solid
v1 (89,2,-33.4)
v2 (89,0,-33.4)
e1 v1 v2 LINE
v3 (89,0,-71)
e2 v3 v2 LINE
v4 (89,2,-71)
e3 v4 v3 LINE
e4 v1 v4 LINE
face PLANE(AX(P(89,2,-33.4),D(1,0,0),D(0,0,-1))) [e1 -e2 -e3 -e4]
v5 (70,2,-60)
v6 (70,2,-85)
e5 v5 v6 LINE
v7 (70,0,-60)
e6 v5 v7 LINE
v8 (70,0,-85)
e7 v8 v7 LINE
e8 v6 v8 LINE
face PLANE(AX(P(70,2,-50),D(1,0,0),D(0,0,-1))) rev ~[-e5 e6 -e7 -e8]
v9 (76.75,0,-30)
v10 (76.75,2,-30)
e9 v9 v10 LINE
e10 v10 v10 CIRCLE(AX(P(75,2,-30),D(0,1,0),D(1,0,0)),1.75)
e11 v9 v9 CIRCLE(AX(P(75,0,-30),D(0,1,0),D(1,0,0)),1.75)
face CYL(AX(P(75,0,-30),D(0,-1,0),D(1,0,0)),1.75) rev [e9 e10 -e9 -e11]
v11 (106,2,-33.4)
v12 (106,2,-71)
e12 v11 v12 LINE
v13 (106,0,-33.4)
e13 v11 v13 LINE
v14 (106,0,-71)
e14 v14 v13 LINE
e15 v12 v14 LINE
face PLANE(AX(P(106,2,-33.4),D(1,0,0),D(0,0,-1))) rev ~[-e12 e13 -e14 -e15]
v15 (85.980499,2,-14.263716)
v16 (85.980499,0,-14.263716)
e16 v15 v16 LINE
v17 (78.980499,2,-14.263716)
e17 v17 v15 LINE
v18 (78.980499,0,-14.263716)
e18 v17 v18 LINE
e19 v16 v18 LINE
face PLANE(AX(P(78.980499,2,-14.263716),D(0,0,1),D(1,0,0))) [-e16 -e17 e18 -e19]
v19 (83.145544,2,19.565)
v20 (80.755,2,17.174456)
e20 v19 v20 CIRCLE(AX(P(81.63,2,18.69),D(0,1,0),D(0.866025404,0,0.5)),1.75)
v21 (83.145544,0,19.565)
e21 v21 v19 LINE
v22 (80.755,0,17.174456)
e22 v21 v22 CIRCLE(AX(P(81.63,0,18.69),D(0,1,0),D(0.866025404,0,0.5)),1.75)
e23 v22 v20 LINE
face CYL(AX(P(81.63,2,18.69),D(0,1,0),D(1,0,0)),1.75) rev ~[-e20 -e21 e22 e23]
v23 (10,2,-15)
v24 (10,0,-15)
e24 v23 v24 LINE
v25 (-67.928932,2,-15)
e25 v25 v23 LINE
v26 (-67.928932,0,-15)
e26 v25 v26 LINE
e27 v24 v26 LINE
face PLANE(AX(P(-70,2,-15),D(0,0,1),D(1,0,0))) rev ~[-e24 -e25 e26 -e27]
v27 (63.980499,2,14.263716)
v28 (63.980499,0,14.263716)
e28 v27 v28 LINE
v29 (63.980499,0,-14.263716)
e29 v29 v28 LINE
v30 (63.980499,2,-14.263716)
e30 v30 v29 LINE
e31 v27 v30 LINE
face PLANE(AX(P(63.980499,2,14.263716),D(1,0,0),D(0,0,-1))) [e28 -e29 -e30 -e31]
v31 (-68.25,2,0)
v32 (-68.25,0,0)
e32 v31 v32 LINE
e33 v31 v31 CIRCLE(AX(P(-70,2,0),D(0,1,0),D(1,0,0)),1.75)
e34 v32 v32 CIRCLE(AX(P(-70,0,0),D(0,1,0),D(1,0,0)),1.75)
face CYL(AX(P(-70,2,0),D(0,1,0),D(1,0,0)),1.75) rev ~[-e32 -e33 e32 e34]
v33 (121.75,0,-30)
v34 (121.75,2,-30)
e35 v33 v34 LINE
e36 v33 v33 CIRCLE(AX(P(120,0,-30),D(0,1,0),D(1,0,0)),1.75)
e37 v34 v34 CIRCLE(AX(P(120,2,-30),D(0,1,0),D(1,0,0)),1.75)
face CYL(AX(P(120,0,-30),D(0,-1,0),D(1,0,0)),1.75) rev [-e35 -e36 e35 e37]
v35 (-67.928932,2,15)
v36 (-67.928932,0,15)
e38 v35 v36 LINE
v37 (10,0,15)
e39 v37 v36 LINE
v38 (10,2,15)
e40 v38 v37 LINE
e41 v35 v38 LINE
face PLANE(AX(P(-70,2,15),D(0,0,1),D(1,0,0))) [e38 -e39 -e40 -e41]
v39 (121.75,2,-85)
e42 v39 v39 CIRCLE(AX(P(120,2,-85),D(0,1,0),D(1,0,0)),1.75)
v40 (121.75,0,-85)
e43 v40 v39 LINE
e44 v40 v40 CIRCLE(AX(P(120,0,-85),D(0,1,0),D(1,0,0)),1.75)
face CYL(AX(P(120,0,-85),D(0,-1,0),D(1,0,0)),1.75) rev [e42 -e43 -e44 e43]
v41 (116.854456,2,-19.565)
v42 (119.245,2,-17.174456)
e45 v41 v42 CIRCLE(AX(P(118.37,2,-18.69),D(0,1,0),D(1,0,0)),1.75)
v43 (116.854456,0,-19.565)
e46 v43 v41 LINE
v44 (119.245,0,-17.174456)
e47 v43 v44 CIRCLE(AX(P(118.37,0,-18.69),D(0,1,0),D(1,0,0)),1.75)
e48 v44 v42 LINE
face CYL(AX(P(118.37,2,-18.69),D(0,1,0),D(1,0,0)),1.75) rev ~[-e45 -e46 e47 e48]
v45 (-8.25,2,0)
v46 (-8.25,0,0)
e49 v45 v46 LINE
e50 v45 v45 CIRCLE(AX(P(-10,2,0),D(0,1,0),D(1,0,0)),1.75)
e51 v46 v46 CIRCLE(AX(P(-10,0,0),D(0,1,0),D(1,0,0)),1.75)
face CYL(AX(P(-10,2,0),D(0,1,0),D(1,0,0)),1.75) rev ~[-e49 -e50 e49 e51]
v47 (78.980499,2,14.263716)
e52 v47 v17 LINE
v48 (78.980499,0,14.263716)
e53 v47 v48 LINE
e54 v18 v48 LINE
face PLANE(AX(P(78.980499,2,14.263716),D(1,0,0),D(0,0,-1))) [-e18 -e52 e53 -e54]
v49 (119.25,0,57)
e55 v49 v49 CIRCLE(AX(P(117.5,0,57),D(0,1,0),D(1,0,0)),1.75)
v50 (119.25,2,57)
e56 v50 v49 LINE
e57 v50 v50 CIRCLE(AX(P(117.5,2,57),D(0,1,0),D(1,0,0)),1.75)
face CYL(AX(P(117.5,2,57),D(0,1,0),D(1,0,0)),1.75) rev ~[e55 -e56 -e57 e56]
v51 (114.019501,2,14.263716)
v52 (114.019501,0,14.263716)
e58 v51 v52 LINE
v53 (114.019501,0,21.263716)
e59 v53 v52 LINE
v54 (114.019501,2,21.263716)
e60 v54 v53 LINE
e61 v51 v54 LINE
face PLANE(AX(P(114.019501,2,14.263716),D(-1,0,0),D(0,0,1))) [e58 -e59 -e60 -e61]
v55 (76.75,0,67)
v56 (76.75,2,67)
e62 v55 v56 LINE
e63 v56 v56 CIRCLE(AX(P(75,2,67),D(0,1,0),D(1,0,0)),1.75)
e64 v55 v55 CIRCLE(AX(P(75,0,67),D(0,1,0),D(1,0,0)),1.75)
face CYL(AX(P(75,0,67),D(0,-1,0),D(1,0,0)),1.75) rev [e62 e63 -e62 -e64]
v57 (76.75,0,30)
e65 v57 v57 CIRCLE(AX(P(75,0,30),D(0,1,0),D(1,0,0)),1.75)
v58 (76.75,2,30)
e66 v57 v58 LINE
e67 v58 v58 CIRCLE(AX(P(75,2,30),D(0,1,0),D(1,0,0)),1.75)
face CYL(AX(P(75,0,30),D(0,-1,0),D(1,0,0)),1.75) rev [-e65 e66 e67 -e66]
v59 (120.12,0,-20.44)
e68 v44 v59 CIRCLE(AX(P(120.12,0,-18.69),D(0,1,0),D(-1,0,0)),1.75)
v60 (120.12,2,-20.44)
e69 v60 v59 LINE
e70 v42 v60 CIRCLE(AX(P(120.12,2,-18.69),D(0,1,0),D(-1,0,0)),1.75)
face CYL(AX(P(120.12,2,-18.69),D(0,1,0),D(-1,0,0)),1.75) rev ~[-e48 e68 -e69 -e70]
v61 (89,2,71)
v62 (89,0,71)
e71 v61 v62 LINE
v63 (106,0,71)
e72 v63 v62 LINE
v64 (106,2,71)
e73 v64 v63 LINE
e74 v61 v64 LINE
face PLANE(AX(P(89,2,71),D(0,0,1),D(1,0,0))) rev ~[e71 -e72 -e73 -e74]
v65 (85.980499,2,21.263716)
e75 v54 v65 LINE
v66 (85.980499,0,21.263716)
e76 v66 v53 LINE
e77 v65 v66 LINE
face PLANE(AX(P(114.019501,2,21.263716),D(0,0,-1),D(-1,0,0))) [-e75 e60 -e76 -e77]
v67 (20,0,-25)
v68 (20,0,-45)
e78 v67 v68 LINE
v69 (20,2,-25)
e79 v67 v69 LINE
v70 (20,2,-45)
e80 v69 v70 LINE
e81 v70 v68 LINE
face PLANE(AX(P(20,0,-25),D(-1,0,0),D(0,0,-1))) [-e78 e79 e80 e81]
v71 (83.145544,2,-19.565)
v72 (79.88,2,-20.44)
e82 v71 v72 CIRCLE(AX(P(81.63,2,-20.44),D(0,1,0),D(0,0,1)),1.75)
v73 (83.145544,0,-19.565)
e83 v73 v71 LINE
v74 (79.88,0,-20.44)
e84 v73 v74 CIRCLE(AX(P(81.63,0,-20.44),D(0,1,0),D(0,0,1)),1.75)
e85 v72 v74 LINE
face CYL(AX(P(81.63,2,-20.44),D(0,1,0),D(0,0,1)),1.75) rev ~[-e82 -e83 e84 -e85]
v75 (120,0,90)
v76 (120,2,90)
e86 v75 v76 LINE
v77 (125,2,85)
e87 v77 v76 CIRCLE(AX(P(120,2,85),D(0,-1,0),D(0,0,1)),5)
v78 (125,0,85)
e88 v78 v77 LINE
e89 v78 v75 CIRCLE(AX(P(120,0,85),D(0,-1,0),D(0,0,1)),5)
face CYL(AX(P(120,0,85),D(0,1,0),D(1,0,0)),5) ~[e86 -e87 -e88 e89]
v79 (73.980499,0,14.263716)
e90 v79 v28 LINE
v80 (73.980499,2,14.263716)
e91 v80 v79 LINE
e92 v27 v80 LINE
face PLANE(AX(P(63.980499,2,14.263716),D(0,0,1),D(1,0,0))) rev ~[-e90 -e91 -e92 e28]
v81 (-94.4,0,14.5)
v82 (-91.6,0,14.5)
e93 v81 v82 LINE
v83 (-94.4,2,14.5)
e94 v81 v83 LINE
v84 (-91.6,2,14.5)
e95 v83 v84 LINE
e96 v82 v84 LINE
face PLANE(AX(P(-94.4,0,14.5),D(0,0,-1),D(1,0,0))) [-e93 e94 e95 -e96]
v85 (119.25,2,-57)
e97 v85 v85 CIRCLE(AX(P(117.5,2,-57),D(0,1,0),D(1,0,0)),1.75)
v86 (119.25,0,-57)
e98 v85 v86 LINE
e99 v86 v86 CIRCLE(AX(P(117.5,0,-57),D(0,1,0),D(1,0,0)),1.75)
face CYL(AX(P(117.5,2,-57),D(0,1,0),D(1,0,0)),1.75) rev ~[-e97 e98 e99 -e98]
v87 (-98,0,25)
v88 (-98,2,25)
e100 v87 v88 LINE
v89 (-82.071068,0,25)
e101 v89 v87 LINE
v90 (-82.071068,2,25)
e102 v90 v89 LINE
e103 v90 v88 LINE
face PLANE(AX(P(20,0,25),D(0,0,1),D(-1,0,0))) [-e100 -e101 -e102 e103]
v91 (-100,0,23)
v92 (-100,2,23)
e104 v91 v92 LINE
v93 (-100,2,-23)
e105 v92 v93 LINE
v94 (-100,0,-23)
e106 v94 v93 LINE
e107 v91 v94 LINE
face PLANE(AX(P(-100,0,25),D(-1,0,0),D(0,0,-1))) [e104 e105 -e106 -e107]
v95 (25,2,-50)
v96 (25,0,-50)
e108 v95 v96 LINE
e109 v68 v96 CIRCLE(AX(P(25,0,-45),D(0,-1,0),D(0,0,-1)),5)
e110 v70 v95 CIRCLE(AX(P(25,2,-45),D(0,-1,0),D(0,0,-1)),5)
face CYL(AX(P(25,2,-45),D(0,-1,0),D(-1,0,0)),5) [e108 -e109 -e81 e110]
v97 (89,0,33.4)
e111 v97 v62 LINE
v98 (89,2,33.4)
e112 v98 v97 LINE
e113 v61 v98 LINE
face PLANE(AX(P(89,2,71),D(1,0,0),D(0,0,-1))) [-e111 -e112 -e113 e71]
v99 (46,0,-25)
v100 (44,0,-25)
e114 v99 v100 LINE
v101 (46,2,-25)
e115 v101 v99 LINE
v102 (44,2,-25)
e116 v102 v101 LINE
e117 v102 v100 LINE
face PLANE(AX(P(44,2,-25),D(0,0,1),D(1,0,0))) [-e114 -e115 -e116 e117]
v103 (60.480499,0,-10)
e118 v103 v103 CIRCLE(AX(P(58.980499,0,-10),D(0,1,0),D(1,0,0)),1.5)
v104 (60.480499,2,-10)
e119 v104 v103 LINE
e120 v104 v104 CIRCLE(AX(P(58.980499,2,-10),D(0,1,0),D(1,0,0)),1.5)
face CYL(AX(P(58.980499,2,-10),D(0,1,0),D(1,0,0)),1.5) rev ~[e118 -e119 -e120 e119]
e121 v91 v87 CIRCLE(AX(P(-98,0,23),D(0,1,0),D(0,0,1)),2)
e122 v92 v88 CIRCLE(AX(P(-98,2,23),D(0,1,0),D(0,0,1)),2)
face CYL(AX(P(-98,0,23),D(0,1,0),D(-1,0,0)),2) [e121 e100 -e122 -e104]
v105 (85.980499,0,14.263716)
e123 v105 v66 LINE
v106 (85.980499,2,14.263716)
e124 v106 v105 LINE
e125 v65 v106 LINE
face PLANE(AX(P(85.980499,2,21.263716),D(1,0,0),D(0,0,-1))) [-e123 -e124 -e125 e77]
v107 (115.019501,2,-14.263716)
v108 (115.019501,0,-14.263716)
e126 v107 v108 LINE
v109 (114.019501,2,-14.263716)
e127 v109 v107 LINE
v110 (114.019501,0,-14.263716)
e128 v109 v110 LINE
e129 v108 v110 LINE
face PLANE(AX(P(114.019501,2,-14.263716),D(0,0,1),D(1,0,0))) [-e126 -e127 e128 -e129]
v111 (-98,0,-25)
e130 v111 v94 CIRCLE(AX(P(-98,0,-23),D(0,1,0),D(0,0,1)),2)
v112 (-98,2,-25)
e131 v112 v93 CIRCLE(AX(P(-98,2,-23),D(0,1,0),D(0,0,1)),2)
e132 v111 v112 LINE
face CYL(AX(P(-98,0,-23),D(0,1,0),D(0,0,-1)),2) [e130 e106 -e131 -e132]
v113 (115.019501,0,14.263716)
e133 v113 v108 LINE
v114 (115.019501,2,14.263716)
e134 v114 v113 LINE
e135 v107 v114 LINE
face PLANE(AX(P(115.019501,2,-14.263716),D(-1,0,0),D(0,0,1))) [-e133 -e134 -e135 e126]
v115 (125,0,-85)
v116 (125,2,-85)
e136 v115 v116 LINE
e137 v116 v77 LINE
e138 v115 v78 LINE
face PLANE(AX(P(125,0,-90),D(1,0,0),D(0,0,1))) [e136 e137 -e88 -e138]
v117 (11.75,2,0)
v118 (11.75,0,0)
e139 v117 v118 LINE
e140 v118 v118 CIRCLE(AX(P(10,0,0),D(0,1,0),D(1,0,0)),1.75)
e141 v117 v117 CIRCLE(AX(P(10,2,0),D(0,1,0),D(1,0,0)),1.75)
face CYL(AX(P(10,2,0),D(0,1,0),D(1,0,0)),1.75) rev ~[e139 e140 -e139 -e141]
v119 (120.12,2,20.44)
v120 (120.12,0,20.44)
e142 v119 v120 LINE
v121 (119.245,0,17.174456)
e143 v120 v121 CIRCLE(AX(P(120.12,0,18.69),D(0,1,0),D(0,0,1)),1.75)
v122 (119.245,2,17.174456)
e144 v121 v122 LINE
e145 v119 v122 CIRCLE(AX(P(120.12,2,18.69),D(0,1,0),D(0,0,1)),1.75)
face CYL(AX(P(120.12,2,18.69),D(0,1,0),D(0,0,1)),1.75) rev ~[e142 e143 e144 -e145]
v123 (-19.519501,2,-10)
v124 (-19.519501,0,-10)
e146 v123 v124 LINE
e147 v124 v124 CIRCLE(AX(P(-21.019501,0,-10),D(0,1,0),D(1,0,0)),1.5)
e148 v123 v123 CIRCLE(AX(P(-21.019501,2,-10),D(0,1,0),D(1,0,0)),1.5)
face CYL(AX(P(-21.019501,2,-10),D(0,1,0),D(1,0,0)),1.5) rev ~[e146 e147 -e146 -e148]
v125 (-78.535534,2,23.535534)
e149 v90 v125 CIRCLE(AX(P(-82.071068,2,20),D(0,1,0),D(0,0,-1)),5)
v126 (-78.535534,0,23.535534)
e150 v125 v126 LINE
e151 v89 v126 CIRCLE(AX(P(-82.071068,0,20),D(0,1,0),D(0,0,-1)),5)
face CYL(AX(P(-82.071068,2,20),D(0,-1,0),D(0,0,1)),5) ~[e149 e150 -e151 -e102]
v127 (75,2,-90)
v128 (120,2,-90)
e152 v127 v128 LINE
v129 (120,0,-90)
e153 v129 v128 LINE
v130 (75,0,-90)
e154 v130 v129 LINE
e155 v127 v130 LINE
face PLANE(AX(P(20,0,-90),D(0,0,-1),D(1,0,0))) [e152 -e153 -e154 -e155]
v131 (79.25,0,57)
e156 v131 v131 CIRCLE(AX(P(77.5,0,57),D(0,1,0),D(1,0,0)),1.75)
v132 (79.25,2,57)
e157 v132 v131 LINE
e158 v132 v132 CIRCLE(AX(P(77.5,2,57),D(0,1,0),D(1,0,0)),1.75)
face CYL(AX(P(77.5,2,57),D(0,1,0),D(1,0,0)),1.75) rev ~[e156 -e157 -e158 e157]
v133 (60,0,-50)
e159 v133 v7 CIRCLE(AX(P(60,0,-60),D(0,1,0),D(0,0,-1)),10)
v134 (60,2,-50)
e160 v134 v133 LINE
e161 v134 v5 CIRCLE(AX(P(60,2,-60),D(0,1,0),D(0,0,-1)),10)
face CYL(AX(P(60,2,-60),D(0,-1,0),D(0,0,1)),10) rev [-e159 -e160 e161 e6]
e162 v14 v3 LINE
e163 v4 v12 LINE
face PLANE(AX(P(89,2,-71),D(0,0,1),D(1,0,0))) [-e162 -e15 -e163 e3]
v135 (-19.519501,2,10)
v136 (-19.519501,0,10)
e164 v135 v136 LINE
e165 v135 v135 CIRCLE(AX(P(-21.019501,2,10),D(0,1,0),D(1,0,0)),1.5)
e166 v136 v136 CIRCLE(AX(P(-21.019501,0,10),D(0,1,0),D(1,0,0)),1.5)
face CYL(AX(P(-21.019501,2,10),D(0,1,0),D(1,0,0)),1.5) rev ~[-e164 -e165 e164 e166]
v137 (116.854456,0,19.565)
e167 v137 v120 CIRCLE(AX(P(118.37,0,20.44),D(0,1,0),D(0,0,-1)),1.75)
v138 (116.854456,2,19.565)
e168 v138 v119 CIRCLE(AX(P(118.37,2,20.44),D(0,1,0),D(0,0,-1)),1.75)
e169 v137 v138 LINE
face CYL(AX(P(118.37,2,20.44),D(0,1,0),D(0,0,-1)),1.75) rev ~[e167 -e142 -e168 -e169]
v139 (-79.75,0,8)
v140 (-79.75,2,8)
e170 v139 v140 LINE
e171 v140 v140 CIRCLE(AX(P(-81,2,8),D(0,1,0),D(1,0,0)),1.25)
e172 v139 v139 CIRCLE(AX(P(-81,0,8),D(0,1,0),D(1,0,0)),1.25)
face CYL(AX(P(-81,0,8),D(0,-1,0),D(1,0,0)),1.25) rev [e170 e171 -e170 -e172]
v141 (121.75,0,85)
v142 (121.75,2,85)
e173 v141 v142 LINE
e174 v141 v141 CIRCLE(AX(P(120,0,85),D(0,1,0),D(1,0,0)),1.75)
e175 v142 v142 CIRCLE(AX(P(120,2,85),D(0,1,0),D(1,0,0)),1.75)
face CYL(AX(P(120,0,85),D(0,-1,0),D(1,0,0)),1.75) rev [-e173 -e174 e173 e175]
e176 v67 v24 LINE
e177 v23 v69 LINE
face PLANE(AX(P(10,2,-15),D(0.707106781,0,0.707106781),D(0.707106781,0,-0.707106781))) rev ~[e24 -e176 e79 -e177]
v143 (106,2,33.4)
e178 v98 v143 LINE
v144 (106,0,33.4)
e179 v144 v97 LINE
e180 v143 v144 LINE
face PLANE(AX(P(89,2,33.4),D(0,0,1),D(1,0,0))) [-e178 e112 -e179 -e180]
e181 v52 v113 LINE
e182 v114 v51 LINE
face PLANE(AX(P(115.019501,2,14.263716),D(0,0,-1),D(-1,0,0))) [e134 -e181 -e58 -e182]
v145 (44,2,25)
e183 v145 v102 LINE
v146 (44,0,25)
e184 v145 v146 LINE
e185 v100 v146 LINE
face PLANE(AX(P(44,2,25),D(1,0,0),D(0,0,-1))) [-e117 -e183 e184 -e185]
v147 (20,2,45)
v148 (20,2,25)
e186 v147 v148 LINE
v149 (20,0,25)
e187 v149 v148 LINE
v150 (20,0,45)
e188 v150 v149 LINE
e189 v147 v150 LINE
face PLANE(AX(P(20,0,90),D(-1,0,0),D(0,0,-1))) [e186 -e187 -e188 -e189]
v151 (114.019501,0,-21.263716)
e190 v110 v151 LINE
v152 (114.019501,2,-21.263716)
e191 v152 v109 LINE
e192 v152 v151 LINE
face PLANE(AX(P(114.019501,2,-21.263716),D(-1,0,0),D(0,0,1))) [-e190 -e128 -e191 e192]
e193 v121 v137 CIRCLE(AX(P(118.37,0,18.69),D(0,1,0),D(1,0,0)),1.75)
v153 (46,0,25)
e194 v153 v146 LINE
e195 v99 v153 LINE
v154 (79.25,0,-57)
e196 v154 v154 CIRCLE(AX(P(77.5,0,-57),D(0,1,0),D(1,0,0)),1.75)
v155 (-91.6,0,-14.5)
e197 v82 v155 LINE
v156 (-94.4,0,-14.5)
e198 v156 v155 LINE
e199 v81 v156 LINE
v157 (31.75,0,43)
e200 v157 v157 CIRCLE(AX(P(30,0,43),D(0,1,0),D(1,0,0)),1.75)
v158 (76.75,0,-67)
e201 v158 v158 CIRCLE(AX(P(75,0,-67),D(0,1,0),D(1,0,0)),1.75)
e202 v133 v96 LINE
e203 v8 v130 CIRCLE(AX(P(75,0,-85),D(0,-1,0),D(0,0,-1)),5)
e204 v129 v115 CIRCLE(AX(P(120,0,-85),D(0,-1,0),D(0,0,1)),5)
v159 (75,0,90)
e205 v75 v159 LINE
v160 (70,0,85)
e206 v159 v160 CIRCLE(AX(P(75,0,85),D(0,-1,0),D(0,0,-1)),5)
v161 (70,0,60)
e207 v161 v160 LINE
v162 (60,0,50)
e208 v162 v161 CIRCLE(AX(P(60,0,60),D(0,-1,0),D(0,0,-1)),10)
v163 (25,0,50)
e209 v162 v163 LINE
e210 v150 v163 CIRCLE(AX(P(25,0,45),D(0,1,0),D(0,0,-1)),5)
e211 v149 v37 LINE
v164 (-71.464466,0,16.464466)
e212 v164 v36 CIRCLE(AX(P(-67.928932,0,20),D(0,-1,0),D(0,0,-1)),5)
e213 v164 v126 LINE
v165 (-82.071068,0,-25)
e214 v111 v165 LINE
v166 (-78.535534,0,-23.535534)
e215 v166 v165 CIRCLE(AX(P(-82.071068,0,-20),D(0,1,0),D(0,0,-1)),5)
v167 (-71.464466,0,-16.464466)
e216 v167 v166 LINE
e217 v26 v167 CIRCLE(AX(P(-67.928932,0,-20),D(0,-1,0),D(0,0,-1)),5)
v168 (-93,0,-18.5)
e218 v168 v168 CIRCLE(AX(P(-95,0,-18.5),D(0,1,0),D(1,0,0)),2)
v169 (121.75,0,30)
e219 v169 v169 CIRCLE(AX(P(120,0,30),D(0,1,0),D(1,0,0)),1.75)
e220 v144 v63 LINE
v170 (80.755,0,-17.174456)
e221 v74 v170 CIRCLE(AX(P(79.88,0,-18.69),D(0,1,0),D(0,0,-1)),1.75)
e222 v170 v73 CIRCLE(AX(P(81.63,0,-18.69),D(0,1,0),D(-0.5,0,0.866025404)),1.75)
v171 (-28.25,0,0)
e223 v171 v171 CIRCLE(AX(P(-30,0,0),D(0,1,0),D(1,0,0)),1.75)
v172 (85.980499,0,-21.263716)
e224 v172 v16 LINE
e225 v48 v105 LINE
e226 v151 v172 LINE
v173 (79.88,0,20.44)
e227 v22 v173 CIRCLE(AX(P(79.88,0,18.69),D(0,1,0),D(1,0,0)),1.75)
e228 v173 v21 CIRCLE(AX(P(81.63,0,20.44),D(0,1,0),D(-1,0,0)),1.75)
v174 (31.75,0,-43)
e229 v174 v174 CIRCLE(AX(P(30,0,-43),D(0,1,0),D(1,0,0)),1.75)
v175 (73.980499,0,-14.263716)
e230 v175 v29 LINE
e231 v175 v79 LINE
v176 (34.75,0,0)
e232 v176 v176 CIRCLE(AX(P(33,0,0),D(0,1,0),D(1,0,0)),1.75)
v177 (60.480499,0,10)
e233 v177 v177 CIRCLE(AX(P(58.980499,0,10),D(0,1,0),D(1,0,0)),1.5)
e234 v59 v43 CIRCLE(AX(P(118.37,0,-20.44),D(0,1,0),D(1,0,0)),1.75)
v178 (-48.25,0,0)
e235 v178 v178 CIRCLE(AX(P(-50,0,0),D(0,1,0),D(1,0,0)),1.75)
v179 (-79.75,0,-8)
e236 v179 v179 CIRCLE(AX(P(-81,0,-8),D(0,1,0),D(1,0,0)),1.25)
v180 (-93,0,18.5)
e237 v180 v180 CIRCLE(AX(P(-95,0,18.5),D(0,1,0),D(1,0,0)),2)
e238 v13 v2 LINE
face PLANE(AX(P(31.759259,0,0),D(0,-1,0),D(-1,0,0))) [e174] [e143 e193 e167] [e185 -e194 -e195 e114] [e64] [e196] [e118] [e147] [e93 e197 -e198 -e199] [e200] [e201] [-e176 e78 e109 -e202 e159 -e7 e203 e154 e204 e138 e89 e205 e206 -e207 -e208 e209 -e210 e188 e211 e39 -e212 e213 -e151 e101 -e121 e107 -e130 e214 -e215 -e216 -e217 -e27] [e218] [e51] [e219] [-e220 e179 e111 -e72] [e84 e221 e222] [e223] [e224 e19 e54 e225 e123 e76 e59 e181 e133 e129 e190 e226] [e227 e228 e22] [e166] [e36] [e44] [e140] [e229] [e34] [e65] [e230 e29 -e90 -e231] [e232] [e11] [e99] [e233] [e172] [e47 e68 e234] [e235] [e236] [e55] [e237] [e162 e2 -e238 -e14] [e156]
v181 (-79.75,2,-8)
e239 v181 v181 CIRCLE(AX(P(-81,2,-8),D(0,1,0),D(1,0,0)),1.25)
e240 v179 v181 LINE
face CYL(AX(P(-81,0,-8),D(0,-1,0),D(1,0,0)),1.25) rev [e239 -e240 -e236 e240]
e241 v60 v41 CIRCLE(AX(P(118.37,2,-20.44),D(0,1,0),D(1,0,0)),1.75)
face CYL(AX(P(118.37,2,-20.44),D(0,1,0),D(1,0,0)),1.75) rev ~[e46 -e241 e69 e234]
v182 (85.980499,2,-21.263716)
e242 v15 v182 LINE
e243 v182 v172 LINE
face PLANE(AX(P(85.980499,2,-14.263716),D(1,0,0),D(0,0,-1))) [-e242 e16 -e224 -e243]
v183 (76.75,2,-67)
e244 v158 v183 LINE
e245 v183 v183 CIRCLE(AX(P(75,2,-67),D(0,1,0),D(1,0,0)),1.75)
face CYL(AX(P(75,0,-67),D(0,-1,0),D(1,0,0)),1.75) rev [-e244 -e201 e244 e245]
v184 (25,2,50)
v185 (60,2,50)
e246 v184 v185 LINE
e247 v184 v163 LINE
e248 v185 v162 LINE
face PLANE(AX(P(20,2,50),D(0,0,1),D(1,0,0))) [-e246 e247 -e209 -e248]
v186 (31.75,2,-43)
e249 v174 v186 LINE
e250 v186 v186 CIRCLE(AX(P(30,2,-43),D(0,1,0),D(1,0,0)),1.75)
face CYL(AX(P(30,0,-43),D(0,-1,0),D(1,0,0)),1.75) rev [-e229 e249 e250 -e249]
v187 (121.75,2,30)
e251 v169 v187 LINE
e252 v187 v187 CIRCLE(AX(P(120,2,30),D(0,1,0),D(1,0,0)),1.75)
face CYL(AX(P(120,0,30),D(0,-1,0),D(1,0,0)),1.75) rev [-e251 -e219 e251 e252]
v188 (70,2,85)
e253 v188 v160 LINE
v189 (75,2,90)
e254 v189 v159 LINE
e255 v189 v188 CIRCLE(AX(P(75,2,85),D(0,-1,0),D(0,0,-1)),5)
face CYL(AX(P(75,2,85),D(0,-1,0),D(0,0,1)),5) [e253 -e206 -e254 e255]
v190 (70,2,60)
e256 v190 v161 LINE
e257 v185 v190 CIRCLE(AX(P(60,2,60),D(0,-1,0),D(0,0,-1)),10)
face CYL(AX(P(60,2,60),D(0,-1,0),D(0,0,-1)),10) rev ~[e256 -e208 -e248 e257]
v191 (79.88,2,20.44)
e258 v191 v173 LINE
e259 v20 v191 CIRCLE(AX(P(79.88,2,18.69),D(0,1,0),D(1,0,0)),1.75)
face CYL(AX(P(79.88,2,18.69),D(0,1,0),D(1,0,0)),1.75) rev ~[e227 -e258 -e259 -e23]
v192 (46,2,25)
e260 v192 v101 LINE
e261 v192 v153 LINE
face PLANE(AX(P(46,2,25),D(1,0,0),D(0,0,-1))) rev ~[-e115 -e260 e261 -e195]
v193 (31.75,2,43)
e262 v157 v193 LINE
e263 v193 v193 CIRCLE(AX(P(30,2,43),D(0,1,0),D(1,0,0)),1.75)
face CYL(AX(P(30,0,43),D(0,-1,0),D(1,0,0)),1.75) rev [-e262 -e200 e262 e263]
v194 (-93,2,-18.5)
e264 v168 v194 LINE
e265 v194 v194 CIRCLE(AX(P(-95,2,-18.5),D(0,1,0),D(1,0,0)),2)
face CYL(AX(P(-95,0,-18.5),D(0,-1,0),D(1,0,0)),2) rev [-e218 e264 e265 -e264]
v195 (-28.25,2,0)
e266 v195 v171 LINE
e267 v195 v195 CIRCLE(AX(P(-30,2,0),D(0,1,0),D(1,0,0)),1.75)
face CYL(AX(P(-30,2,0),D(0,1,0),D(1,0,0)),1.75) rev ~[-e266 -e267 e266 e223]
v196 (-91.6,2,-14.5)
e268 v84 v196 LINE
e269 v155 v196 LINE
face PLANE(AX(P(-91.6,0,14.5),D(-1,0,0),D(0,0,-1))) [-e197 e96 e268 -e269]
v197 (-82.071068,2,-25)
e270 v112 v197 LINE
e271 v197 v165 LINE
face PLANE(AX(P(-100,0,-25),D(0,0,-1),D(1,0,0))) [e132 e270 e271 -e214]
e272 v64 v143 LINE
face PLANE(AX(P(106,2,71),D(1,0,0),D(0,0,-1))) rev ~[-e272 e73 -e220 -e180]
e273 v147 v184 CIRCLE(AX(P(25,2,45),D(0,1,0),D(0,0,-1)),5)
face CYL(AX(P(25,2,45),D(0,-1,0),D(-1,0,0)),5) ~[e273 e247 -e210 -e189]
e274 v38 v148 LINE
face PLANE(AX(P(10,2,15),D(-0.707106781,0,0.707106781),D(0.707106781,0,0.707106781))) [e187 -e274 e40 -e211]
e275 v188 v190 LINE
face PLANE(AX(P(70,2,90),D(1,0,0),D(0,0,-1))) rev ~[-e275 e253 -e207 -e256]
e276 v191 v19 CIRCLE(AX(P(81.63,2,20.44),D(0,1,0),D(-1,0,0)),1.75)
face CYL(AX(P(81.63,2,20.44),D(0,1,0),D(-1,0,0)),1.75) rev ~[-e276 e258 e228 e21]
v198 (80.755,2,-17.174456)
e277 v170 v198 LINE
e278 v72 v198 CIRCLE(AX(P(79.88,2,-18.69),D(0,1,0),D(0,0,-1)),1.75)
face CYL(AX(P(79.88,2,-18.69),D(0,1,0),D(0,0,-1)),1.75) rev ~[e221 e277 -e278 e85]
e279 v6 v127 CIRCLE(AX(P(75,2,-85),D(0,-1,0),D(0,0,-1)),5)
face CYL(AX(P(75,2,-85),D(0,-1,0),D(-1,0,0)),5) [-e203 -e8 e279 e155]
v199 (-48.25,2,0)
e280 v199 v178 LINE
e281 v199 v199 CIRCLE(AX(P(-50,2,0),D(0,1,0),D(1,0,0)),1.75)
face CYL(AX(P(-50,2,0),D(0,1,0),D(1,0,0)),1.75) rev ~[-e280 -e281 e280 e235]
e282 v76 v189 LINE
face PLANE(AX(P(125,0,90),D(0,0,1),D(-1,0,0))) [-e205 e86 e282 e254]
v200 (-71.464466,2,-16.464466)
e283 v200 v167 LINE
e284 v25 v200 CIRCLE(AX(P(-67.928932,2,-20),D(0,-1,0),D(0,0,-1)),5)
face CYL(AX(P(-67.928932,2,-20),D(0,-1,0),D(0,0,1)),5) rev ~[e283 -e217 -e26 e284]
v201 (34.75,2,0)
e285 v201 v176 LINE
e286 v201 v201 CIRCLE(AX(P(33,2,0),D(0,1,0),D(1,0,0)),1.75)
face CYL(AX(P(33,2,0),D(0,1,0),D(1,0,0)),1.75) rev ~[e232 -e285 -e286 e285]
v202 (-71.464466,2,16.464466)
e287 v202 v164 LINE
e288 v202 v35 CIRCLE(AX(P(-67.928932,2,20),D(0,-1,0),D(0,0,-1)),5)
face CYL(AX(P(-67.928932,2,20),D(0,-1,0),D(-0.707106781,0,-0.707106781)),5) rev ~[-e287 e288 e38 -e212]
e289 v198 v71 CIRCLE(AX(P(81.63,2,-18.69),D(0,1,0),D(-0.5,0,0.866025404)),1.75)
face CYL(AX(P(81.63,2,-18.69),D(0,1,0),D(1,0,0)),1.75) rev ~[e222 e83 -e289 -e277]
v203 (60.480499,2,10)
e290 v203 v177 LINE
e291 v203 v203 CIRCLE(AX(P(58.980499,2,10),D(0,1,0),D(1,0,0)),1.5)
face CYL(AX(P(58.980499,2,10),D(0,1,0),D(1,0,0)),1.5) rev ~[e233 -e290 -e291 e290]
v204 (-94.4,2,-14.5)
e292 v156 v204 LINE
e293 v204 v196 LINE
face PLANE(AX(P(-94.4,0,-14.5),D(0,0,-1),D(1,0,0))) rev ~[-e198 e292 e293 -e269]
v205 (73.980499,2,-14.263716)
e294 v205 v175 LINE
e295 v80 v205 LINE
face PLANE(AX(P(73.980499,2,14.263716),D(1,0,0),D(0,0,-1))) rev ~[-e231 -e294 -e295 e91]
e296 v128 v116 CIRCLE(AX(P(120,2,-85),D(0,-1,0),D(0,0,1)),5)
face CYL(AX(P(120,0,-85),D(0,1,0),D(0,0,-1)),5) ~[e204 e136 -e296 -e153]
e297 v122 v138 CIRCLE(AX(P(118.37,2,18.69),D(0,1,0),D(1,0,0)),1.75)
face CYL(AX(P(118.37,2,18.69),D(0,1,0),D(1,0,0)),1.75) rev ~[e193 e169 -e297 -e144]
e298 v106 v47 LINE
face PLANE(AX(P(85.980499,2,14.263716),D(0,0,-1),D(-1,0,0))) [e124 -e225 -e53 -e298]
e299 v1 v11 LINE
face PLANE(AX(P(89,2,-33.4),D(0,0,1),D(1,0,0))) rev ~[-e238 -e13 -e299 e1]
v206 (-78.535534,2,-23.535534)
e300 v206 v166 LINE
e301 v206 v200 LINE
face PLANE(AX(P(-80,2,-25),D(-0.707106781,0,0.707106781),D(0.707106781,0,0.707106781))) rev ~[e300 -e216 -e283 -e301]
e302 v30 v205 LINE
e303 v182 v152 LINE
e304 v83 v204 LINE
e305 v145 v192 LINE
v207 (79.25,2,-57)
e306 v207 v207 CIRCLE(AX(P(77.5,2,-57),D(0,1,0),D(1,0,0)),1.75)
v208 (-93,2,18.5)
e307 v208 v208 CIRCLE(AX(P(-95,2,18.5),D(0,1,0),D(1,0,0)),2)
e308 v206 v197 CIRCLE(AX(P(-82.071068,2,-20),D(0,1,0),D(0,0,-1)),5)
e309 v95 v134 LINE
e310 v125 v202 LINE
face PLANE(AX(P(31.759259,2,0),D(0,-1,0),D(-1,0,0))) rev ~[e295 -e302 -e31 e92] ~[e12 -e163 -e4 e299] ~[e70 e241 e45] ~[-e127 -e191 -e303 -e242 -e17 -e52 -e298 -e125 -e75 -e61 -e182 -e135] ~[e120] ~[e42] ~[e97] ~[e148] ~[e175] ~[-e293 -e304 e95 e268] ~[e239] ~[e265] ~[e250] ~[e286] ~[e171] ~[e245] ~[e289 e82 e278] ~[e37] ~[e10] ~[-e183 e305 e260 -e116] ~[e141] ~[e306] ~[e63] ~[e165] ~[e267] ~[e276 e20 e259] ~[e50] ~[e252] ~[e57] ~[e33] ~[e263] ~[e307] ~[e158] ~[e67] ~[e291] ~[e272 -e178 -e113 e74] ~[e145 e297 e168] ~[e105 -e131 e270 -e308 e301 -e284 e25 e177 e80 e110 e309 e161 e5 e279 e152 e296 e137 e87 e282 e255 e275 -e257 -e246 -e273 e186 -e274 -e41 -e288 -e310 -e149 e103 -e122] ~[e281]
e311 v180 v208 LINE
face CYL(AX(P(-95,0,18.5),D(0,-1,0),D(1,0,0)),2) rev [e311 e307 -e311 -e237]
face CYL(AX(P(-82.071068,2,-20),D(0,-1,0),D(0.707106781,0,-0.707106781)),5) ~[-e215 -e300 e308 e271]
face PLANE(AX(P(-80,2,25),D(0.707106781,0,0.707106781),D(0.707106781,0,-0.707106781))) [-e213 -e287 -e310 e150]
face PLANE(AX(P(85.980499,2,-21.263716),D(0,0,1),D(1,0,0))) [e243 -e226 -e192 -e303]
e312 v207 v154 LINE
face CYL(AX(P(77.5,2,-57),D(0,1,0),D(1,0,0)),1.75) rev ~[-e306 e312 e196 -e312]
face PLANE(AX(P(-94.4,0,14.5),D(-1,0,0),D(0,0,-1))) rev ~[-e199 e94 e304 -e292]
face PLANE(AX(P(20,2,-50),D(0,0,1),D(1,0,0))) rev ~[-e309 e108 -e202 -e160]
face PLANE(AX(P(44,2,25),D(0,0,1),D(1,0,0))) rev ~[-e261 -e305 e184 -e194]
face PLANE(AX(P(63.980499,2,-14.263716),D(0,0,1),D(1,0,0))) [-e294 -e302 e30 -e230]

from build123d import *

# Parameters (mm, degrees)
SKETCH1_R           = 1.75
SKETCH1_R_2         = 2
SKETCH1_R_3         = 1.25
SKETCH1_W           = 2.8
SKETCH1_H           = 29
BOSS_EXTRUDE1_DEPTH = 2
SKETCH3_R           = 1.75
SKETCH3_W           = 17
SKETCH3_H           = 37.6
SKETCH3_W_2         = 2
SKETCH3_H_2         = 50
SKETCH3_W_3         = 50
SKETCH3_H_3         = 40
SKETCH3_W_4         = 10
SKETCH3_H_4         = 28.52743249
CUT_EXTRUDE1_DEPTH  = 10
FILLET1_R           = 2
FILLET2_R           = 5
FILLET3_R           = 10
CUT_EXTRUDE2_DEPTH  = 10
SKETCH5_R           = 1.75
SKETCH5_R_2         = 1.5
CUT_EXTRUDE3_DEPTH  = 10
FILLET4_R           = 5


with BuildPart() as part:
    # Sketch1 → Boss-Extrude1 (new body)
    with BuildSketch(Plane(origin=(0, 0, 0), x_dir=(1, 0, 0), z_dir=(0, 1, 0))):
        Polygon((20, 90), (125, 90), (125, -90), (20, -90), (20, -25), (-100, -25), (-100, 25), (20, 25), align=None)
        with Locations((120, -85)):
            Circle(SKETCH1_R, mode=Mode.SUBTRACT)
        with Locations((120, 85)):
            Circle(SKETCH1_R, mode=Mode.SUBTRACT)
        with Locations((75, -67)):
            Circle(SKETCH1_R, mode=Mode.SUBTRACT)
        with Locations((120, -30)):
            Circle(SKETCH1_R, mode=Mode.SUBTRACT)
        with Locations((75, -30)):
            Circle(SKETCH1_R, mode=Mode.SUBTRACT)
        with Locations((75, 67)):
            Circle(SKETCH1_R, mode=Mode.SUBTRACT)
        with Locations((-95, -18.5)):
            Circle(SKETCH1_R_2, mode=Mode.SUBTRACT)
        with Locations((-95, 18.5)):
            Circle(SKETCH1_R_2, mode=Mode.SUBTRACT)
        with Locations((-81, 8)):
            Circle(SKETCH1_R_3, mode=Mode.SUBTRACT)
        with Locations((-81, -8)):
            Circle(SKETCH1_R_3, mode=Mode.SUBTRACT)
        with Locations((120, 30)):
            Circle(SKETCH1_R, mode=Mode.SUBTRACT)
        with Locations((75, 30)):
            Circle(SKETCH1_R, mode=Mode.SUBTRACT)
        with Locations((30, -43)):
            Circle(SKETCH1_R, mode=Mode.SUBTRACT)
        with Locations((30, 43)):
            Circle(SKETCH1_R, mode=Mode.SUBTRACT)
        with Locations((-93, 0)):
            Rectangle(SKETCH1_W, SKETCH1_H, mode=Mode.SUBTRACT)
    extrude(amount=BOSS_EXTRUDE1_DEPTH)

    # Sketch3 → Cut-Extrude1 (cut)
    with BuildSketch(Plane(origin=(0, 2, 0), x_dir=(1, 0, 0), z_dir=(0, 1, 0))):
        with Locations((77.5, 57)):
            Circle(SKETCH3_R)
        with Locations((117.5, 57)):
            Circle(SKETCH3_R)
        with Locations((117.5, -57)):
            Circle(SKETCH3_R)
        with Locations((77.5, -57)):
            Circle(SKETCH3_R)
        with Locations((81.63, 18.69)):
            Circle(SKETCH3_R)
        with Locations((118.37, 18.69)):
            Circle(SKETCH3_R)
        with Locations((81.63, -18.69)):
            Circle(SKETCH3_R)
        with Locations((118.37, -18.69)):
            Circle(SKETCH3_R)
        with Locations((33, 0)):
            Circle(SKETCH3_R)
        with Locations((97.5, 52.2)):
            Rectangle(SKETCH3_W, SKETCH3_H)
        with Locations((97.5, -52.2)):
            Rectangle(SKETCH3_W, SKETCH3_H)
        Polygon((85.980499335, 14.263716245), (85.980499335, 21.263716245), (114.019500665, 21.263716245), (114.019500665, 14.263716245), (115.019500665, 14.263716245), (115.019500665, -14.263716245), (114.019500665, -14.263716245), (114.019500665, -21.263716245), (85.980499335, -21.263716245), (85.980499335, -14.263716245), (78.980499335, -14.263716245), (78.980499335, 14.263716245), align=None)
        with Locations((45, 0)):
            Rectangle(SKETCH3_W_2, SKETCH3_H_2)
        with Locations((45, -70)):
            Rectangle(SKETCH3_W_3, SKETCH3_H_3)
        with Locations((45, 70)):
            Rectangle(SKETCH3_W_3, SKETCH3_H_3)
        with Locations((68.980499335, 0)):
            Rectangle(SKETCH3_W_4, SKETCH3_H_4)
    extrude(amount=-CUT_EXTRUDE1_DEPTH, mode=Mode.SUBTRACT)

    # Fillet1
    fillet1_edges = [part.edges().sort_by_distance(p)[0] for p in [
        (-100, 1, 25),
        (-100, 1, -25),
    ]]
    fillet(fillet1_edges, radius=FILLET1_R)

    # Fillet2
    fillet2_edges = [part.edges().sort_by_distance(p)[0] for p in [
        (20, 1, -50),
        (125, 1, 90),
        (125, 1, -90),
        (20, 1, 50),
        (70, 1, -90),
        (70, 1, 90),
    ]]
    fillet(fillet2_edges, radius=FILLET2_R)

    # Fillet3
    fillet3_edges = [part.edges().sort_by_distance(p)[0] for p in [
        (70, 1, 50),
        (70, 1, -50),
    ]]
    fillet(fillet3_edges, radius=FILLET3_R)

    # Sketch4 → Cut-Extrude2 (cut)
    with BuildSketch(Plane(origin=(0, 2, 0), x_dir=(1, 0, 0), z_dir=(0, 1, 0))):
        with BuildLine():
            ThreePointArc((118.37, 18.69), (121.357436867, 17.452563133), (120.12, 20.44))
            ThreePointArc((120.12, 20.44), (117.132563133, 21.677436867), (118.37, 18.69))
        make_face()
        with BuildLine():
            ThreePointArc((120.12, -20.44), (121.357436867, -17.452563133), (118.37, -18.69))
            ThreePointArc((118.37, -18.69), (117.132563133, -21.677436867), (120.12, -20.44))
        make_face()
        with BuildLine():
            ThreePointArc((79.88, -20.44), (82.867436867, -21.677436867), (81.63, -18.69))
            ThreePointArc((81.63, -18.69), (78.642563133, -17.452563133), (79.88, -20.44))
        make_face()
        with BuildLine():
            ThreePointArc((79.88, 20.44), (78.642563133, 17.452563133), (81.63, 18.69))
            ThreePointArc((81.63, 18.69), (82.867436867, 21.677436867), (79.88, 20.44))
        make_face()
    extrude(amount=-CUT_EXTRUDE2_DEPTH, mode=Mode.SUBTRACT)

    # Sketch5 → Cut-Extrude3 (cut)
    with BuildSketch(Plane(origin=(0, 2, 0), x_dir=(1, 0, 0), z_dir=(0, 1, 0))):
        with Locations((-70, 0)):
            Circle(SKETCH5_R)
        with Locations((-50, 0)):
            Circle(SKETCH5_R)
        with Locations((-30, 0)):
            Circle(SKETCH5_R)
        with Locations((-10, 0)):
            Circle(SKETCH5_R)
        with Locations((10, 0)):
            Circle(SKETCH5_R)
        with Locations((58.980499335, 10)):
            Circle(SKETCH5_R_2)
        with Locations((58.980499335, -10)):
            Circle(SKETCH5_R_2)
        with Locations((-21.019500665, 10)):
            Circle(SKETCH5_R_2)
        with Locations((-21.019500665, -10)):
            Circle(SKETCH5_R_2)
        Polygon((20, 25), (-80, 25), (-70, 15), (10, 15), align=None)
        Polygon((-70, -15), (10, -15), (20, -25), (-80, -25), align=None)
    extrude(amount=-CUT_EXTRUDE3_DEPTH, mode=Mode.SUBTRACT)

    # Fillet4
    fillet4_edges = [part.edges().sort_by_distance(p)[0] for p in [
        (-80, 1, -25),
        (-70, 1, -15),
        (-70, 1, 15),
        (-80, 1, 25),
    ]]
    fillet(fillet4_edges, radius=FILLET4_R)


solid = part.part
